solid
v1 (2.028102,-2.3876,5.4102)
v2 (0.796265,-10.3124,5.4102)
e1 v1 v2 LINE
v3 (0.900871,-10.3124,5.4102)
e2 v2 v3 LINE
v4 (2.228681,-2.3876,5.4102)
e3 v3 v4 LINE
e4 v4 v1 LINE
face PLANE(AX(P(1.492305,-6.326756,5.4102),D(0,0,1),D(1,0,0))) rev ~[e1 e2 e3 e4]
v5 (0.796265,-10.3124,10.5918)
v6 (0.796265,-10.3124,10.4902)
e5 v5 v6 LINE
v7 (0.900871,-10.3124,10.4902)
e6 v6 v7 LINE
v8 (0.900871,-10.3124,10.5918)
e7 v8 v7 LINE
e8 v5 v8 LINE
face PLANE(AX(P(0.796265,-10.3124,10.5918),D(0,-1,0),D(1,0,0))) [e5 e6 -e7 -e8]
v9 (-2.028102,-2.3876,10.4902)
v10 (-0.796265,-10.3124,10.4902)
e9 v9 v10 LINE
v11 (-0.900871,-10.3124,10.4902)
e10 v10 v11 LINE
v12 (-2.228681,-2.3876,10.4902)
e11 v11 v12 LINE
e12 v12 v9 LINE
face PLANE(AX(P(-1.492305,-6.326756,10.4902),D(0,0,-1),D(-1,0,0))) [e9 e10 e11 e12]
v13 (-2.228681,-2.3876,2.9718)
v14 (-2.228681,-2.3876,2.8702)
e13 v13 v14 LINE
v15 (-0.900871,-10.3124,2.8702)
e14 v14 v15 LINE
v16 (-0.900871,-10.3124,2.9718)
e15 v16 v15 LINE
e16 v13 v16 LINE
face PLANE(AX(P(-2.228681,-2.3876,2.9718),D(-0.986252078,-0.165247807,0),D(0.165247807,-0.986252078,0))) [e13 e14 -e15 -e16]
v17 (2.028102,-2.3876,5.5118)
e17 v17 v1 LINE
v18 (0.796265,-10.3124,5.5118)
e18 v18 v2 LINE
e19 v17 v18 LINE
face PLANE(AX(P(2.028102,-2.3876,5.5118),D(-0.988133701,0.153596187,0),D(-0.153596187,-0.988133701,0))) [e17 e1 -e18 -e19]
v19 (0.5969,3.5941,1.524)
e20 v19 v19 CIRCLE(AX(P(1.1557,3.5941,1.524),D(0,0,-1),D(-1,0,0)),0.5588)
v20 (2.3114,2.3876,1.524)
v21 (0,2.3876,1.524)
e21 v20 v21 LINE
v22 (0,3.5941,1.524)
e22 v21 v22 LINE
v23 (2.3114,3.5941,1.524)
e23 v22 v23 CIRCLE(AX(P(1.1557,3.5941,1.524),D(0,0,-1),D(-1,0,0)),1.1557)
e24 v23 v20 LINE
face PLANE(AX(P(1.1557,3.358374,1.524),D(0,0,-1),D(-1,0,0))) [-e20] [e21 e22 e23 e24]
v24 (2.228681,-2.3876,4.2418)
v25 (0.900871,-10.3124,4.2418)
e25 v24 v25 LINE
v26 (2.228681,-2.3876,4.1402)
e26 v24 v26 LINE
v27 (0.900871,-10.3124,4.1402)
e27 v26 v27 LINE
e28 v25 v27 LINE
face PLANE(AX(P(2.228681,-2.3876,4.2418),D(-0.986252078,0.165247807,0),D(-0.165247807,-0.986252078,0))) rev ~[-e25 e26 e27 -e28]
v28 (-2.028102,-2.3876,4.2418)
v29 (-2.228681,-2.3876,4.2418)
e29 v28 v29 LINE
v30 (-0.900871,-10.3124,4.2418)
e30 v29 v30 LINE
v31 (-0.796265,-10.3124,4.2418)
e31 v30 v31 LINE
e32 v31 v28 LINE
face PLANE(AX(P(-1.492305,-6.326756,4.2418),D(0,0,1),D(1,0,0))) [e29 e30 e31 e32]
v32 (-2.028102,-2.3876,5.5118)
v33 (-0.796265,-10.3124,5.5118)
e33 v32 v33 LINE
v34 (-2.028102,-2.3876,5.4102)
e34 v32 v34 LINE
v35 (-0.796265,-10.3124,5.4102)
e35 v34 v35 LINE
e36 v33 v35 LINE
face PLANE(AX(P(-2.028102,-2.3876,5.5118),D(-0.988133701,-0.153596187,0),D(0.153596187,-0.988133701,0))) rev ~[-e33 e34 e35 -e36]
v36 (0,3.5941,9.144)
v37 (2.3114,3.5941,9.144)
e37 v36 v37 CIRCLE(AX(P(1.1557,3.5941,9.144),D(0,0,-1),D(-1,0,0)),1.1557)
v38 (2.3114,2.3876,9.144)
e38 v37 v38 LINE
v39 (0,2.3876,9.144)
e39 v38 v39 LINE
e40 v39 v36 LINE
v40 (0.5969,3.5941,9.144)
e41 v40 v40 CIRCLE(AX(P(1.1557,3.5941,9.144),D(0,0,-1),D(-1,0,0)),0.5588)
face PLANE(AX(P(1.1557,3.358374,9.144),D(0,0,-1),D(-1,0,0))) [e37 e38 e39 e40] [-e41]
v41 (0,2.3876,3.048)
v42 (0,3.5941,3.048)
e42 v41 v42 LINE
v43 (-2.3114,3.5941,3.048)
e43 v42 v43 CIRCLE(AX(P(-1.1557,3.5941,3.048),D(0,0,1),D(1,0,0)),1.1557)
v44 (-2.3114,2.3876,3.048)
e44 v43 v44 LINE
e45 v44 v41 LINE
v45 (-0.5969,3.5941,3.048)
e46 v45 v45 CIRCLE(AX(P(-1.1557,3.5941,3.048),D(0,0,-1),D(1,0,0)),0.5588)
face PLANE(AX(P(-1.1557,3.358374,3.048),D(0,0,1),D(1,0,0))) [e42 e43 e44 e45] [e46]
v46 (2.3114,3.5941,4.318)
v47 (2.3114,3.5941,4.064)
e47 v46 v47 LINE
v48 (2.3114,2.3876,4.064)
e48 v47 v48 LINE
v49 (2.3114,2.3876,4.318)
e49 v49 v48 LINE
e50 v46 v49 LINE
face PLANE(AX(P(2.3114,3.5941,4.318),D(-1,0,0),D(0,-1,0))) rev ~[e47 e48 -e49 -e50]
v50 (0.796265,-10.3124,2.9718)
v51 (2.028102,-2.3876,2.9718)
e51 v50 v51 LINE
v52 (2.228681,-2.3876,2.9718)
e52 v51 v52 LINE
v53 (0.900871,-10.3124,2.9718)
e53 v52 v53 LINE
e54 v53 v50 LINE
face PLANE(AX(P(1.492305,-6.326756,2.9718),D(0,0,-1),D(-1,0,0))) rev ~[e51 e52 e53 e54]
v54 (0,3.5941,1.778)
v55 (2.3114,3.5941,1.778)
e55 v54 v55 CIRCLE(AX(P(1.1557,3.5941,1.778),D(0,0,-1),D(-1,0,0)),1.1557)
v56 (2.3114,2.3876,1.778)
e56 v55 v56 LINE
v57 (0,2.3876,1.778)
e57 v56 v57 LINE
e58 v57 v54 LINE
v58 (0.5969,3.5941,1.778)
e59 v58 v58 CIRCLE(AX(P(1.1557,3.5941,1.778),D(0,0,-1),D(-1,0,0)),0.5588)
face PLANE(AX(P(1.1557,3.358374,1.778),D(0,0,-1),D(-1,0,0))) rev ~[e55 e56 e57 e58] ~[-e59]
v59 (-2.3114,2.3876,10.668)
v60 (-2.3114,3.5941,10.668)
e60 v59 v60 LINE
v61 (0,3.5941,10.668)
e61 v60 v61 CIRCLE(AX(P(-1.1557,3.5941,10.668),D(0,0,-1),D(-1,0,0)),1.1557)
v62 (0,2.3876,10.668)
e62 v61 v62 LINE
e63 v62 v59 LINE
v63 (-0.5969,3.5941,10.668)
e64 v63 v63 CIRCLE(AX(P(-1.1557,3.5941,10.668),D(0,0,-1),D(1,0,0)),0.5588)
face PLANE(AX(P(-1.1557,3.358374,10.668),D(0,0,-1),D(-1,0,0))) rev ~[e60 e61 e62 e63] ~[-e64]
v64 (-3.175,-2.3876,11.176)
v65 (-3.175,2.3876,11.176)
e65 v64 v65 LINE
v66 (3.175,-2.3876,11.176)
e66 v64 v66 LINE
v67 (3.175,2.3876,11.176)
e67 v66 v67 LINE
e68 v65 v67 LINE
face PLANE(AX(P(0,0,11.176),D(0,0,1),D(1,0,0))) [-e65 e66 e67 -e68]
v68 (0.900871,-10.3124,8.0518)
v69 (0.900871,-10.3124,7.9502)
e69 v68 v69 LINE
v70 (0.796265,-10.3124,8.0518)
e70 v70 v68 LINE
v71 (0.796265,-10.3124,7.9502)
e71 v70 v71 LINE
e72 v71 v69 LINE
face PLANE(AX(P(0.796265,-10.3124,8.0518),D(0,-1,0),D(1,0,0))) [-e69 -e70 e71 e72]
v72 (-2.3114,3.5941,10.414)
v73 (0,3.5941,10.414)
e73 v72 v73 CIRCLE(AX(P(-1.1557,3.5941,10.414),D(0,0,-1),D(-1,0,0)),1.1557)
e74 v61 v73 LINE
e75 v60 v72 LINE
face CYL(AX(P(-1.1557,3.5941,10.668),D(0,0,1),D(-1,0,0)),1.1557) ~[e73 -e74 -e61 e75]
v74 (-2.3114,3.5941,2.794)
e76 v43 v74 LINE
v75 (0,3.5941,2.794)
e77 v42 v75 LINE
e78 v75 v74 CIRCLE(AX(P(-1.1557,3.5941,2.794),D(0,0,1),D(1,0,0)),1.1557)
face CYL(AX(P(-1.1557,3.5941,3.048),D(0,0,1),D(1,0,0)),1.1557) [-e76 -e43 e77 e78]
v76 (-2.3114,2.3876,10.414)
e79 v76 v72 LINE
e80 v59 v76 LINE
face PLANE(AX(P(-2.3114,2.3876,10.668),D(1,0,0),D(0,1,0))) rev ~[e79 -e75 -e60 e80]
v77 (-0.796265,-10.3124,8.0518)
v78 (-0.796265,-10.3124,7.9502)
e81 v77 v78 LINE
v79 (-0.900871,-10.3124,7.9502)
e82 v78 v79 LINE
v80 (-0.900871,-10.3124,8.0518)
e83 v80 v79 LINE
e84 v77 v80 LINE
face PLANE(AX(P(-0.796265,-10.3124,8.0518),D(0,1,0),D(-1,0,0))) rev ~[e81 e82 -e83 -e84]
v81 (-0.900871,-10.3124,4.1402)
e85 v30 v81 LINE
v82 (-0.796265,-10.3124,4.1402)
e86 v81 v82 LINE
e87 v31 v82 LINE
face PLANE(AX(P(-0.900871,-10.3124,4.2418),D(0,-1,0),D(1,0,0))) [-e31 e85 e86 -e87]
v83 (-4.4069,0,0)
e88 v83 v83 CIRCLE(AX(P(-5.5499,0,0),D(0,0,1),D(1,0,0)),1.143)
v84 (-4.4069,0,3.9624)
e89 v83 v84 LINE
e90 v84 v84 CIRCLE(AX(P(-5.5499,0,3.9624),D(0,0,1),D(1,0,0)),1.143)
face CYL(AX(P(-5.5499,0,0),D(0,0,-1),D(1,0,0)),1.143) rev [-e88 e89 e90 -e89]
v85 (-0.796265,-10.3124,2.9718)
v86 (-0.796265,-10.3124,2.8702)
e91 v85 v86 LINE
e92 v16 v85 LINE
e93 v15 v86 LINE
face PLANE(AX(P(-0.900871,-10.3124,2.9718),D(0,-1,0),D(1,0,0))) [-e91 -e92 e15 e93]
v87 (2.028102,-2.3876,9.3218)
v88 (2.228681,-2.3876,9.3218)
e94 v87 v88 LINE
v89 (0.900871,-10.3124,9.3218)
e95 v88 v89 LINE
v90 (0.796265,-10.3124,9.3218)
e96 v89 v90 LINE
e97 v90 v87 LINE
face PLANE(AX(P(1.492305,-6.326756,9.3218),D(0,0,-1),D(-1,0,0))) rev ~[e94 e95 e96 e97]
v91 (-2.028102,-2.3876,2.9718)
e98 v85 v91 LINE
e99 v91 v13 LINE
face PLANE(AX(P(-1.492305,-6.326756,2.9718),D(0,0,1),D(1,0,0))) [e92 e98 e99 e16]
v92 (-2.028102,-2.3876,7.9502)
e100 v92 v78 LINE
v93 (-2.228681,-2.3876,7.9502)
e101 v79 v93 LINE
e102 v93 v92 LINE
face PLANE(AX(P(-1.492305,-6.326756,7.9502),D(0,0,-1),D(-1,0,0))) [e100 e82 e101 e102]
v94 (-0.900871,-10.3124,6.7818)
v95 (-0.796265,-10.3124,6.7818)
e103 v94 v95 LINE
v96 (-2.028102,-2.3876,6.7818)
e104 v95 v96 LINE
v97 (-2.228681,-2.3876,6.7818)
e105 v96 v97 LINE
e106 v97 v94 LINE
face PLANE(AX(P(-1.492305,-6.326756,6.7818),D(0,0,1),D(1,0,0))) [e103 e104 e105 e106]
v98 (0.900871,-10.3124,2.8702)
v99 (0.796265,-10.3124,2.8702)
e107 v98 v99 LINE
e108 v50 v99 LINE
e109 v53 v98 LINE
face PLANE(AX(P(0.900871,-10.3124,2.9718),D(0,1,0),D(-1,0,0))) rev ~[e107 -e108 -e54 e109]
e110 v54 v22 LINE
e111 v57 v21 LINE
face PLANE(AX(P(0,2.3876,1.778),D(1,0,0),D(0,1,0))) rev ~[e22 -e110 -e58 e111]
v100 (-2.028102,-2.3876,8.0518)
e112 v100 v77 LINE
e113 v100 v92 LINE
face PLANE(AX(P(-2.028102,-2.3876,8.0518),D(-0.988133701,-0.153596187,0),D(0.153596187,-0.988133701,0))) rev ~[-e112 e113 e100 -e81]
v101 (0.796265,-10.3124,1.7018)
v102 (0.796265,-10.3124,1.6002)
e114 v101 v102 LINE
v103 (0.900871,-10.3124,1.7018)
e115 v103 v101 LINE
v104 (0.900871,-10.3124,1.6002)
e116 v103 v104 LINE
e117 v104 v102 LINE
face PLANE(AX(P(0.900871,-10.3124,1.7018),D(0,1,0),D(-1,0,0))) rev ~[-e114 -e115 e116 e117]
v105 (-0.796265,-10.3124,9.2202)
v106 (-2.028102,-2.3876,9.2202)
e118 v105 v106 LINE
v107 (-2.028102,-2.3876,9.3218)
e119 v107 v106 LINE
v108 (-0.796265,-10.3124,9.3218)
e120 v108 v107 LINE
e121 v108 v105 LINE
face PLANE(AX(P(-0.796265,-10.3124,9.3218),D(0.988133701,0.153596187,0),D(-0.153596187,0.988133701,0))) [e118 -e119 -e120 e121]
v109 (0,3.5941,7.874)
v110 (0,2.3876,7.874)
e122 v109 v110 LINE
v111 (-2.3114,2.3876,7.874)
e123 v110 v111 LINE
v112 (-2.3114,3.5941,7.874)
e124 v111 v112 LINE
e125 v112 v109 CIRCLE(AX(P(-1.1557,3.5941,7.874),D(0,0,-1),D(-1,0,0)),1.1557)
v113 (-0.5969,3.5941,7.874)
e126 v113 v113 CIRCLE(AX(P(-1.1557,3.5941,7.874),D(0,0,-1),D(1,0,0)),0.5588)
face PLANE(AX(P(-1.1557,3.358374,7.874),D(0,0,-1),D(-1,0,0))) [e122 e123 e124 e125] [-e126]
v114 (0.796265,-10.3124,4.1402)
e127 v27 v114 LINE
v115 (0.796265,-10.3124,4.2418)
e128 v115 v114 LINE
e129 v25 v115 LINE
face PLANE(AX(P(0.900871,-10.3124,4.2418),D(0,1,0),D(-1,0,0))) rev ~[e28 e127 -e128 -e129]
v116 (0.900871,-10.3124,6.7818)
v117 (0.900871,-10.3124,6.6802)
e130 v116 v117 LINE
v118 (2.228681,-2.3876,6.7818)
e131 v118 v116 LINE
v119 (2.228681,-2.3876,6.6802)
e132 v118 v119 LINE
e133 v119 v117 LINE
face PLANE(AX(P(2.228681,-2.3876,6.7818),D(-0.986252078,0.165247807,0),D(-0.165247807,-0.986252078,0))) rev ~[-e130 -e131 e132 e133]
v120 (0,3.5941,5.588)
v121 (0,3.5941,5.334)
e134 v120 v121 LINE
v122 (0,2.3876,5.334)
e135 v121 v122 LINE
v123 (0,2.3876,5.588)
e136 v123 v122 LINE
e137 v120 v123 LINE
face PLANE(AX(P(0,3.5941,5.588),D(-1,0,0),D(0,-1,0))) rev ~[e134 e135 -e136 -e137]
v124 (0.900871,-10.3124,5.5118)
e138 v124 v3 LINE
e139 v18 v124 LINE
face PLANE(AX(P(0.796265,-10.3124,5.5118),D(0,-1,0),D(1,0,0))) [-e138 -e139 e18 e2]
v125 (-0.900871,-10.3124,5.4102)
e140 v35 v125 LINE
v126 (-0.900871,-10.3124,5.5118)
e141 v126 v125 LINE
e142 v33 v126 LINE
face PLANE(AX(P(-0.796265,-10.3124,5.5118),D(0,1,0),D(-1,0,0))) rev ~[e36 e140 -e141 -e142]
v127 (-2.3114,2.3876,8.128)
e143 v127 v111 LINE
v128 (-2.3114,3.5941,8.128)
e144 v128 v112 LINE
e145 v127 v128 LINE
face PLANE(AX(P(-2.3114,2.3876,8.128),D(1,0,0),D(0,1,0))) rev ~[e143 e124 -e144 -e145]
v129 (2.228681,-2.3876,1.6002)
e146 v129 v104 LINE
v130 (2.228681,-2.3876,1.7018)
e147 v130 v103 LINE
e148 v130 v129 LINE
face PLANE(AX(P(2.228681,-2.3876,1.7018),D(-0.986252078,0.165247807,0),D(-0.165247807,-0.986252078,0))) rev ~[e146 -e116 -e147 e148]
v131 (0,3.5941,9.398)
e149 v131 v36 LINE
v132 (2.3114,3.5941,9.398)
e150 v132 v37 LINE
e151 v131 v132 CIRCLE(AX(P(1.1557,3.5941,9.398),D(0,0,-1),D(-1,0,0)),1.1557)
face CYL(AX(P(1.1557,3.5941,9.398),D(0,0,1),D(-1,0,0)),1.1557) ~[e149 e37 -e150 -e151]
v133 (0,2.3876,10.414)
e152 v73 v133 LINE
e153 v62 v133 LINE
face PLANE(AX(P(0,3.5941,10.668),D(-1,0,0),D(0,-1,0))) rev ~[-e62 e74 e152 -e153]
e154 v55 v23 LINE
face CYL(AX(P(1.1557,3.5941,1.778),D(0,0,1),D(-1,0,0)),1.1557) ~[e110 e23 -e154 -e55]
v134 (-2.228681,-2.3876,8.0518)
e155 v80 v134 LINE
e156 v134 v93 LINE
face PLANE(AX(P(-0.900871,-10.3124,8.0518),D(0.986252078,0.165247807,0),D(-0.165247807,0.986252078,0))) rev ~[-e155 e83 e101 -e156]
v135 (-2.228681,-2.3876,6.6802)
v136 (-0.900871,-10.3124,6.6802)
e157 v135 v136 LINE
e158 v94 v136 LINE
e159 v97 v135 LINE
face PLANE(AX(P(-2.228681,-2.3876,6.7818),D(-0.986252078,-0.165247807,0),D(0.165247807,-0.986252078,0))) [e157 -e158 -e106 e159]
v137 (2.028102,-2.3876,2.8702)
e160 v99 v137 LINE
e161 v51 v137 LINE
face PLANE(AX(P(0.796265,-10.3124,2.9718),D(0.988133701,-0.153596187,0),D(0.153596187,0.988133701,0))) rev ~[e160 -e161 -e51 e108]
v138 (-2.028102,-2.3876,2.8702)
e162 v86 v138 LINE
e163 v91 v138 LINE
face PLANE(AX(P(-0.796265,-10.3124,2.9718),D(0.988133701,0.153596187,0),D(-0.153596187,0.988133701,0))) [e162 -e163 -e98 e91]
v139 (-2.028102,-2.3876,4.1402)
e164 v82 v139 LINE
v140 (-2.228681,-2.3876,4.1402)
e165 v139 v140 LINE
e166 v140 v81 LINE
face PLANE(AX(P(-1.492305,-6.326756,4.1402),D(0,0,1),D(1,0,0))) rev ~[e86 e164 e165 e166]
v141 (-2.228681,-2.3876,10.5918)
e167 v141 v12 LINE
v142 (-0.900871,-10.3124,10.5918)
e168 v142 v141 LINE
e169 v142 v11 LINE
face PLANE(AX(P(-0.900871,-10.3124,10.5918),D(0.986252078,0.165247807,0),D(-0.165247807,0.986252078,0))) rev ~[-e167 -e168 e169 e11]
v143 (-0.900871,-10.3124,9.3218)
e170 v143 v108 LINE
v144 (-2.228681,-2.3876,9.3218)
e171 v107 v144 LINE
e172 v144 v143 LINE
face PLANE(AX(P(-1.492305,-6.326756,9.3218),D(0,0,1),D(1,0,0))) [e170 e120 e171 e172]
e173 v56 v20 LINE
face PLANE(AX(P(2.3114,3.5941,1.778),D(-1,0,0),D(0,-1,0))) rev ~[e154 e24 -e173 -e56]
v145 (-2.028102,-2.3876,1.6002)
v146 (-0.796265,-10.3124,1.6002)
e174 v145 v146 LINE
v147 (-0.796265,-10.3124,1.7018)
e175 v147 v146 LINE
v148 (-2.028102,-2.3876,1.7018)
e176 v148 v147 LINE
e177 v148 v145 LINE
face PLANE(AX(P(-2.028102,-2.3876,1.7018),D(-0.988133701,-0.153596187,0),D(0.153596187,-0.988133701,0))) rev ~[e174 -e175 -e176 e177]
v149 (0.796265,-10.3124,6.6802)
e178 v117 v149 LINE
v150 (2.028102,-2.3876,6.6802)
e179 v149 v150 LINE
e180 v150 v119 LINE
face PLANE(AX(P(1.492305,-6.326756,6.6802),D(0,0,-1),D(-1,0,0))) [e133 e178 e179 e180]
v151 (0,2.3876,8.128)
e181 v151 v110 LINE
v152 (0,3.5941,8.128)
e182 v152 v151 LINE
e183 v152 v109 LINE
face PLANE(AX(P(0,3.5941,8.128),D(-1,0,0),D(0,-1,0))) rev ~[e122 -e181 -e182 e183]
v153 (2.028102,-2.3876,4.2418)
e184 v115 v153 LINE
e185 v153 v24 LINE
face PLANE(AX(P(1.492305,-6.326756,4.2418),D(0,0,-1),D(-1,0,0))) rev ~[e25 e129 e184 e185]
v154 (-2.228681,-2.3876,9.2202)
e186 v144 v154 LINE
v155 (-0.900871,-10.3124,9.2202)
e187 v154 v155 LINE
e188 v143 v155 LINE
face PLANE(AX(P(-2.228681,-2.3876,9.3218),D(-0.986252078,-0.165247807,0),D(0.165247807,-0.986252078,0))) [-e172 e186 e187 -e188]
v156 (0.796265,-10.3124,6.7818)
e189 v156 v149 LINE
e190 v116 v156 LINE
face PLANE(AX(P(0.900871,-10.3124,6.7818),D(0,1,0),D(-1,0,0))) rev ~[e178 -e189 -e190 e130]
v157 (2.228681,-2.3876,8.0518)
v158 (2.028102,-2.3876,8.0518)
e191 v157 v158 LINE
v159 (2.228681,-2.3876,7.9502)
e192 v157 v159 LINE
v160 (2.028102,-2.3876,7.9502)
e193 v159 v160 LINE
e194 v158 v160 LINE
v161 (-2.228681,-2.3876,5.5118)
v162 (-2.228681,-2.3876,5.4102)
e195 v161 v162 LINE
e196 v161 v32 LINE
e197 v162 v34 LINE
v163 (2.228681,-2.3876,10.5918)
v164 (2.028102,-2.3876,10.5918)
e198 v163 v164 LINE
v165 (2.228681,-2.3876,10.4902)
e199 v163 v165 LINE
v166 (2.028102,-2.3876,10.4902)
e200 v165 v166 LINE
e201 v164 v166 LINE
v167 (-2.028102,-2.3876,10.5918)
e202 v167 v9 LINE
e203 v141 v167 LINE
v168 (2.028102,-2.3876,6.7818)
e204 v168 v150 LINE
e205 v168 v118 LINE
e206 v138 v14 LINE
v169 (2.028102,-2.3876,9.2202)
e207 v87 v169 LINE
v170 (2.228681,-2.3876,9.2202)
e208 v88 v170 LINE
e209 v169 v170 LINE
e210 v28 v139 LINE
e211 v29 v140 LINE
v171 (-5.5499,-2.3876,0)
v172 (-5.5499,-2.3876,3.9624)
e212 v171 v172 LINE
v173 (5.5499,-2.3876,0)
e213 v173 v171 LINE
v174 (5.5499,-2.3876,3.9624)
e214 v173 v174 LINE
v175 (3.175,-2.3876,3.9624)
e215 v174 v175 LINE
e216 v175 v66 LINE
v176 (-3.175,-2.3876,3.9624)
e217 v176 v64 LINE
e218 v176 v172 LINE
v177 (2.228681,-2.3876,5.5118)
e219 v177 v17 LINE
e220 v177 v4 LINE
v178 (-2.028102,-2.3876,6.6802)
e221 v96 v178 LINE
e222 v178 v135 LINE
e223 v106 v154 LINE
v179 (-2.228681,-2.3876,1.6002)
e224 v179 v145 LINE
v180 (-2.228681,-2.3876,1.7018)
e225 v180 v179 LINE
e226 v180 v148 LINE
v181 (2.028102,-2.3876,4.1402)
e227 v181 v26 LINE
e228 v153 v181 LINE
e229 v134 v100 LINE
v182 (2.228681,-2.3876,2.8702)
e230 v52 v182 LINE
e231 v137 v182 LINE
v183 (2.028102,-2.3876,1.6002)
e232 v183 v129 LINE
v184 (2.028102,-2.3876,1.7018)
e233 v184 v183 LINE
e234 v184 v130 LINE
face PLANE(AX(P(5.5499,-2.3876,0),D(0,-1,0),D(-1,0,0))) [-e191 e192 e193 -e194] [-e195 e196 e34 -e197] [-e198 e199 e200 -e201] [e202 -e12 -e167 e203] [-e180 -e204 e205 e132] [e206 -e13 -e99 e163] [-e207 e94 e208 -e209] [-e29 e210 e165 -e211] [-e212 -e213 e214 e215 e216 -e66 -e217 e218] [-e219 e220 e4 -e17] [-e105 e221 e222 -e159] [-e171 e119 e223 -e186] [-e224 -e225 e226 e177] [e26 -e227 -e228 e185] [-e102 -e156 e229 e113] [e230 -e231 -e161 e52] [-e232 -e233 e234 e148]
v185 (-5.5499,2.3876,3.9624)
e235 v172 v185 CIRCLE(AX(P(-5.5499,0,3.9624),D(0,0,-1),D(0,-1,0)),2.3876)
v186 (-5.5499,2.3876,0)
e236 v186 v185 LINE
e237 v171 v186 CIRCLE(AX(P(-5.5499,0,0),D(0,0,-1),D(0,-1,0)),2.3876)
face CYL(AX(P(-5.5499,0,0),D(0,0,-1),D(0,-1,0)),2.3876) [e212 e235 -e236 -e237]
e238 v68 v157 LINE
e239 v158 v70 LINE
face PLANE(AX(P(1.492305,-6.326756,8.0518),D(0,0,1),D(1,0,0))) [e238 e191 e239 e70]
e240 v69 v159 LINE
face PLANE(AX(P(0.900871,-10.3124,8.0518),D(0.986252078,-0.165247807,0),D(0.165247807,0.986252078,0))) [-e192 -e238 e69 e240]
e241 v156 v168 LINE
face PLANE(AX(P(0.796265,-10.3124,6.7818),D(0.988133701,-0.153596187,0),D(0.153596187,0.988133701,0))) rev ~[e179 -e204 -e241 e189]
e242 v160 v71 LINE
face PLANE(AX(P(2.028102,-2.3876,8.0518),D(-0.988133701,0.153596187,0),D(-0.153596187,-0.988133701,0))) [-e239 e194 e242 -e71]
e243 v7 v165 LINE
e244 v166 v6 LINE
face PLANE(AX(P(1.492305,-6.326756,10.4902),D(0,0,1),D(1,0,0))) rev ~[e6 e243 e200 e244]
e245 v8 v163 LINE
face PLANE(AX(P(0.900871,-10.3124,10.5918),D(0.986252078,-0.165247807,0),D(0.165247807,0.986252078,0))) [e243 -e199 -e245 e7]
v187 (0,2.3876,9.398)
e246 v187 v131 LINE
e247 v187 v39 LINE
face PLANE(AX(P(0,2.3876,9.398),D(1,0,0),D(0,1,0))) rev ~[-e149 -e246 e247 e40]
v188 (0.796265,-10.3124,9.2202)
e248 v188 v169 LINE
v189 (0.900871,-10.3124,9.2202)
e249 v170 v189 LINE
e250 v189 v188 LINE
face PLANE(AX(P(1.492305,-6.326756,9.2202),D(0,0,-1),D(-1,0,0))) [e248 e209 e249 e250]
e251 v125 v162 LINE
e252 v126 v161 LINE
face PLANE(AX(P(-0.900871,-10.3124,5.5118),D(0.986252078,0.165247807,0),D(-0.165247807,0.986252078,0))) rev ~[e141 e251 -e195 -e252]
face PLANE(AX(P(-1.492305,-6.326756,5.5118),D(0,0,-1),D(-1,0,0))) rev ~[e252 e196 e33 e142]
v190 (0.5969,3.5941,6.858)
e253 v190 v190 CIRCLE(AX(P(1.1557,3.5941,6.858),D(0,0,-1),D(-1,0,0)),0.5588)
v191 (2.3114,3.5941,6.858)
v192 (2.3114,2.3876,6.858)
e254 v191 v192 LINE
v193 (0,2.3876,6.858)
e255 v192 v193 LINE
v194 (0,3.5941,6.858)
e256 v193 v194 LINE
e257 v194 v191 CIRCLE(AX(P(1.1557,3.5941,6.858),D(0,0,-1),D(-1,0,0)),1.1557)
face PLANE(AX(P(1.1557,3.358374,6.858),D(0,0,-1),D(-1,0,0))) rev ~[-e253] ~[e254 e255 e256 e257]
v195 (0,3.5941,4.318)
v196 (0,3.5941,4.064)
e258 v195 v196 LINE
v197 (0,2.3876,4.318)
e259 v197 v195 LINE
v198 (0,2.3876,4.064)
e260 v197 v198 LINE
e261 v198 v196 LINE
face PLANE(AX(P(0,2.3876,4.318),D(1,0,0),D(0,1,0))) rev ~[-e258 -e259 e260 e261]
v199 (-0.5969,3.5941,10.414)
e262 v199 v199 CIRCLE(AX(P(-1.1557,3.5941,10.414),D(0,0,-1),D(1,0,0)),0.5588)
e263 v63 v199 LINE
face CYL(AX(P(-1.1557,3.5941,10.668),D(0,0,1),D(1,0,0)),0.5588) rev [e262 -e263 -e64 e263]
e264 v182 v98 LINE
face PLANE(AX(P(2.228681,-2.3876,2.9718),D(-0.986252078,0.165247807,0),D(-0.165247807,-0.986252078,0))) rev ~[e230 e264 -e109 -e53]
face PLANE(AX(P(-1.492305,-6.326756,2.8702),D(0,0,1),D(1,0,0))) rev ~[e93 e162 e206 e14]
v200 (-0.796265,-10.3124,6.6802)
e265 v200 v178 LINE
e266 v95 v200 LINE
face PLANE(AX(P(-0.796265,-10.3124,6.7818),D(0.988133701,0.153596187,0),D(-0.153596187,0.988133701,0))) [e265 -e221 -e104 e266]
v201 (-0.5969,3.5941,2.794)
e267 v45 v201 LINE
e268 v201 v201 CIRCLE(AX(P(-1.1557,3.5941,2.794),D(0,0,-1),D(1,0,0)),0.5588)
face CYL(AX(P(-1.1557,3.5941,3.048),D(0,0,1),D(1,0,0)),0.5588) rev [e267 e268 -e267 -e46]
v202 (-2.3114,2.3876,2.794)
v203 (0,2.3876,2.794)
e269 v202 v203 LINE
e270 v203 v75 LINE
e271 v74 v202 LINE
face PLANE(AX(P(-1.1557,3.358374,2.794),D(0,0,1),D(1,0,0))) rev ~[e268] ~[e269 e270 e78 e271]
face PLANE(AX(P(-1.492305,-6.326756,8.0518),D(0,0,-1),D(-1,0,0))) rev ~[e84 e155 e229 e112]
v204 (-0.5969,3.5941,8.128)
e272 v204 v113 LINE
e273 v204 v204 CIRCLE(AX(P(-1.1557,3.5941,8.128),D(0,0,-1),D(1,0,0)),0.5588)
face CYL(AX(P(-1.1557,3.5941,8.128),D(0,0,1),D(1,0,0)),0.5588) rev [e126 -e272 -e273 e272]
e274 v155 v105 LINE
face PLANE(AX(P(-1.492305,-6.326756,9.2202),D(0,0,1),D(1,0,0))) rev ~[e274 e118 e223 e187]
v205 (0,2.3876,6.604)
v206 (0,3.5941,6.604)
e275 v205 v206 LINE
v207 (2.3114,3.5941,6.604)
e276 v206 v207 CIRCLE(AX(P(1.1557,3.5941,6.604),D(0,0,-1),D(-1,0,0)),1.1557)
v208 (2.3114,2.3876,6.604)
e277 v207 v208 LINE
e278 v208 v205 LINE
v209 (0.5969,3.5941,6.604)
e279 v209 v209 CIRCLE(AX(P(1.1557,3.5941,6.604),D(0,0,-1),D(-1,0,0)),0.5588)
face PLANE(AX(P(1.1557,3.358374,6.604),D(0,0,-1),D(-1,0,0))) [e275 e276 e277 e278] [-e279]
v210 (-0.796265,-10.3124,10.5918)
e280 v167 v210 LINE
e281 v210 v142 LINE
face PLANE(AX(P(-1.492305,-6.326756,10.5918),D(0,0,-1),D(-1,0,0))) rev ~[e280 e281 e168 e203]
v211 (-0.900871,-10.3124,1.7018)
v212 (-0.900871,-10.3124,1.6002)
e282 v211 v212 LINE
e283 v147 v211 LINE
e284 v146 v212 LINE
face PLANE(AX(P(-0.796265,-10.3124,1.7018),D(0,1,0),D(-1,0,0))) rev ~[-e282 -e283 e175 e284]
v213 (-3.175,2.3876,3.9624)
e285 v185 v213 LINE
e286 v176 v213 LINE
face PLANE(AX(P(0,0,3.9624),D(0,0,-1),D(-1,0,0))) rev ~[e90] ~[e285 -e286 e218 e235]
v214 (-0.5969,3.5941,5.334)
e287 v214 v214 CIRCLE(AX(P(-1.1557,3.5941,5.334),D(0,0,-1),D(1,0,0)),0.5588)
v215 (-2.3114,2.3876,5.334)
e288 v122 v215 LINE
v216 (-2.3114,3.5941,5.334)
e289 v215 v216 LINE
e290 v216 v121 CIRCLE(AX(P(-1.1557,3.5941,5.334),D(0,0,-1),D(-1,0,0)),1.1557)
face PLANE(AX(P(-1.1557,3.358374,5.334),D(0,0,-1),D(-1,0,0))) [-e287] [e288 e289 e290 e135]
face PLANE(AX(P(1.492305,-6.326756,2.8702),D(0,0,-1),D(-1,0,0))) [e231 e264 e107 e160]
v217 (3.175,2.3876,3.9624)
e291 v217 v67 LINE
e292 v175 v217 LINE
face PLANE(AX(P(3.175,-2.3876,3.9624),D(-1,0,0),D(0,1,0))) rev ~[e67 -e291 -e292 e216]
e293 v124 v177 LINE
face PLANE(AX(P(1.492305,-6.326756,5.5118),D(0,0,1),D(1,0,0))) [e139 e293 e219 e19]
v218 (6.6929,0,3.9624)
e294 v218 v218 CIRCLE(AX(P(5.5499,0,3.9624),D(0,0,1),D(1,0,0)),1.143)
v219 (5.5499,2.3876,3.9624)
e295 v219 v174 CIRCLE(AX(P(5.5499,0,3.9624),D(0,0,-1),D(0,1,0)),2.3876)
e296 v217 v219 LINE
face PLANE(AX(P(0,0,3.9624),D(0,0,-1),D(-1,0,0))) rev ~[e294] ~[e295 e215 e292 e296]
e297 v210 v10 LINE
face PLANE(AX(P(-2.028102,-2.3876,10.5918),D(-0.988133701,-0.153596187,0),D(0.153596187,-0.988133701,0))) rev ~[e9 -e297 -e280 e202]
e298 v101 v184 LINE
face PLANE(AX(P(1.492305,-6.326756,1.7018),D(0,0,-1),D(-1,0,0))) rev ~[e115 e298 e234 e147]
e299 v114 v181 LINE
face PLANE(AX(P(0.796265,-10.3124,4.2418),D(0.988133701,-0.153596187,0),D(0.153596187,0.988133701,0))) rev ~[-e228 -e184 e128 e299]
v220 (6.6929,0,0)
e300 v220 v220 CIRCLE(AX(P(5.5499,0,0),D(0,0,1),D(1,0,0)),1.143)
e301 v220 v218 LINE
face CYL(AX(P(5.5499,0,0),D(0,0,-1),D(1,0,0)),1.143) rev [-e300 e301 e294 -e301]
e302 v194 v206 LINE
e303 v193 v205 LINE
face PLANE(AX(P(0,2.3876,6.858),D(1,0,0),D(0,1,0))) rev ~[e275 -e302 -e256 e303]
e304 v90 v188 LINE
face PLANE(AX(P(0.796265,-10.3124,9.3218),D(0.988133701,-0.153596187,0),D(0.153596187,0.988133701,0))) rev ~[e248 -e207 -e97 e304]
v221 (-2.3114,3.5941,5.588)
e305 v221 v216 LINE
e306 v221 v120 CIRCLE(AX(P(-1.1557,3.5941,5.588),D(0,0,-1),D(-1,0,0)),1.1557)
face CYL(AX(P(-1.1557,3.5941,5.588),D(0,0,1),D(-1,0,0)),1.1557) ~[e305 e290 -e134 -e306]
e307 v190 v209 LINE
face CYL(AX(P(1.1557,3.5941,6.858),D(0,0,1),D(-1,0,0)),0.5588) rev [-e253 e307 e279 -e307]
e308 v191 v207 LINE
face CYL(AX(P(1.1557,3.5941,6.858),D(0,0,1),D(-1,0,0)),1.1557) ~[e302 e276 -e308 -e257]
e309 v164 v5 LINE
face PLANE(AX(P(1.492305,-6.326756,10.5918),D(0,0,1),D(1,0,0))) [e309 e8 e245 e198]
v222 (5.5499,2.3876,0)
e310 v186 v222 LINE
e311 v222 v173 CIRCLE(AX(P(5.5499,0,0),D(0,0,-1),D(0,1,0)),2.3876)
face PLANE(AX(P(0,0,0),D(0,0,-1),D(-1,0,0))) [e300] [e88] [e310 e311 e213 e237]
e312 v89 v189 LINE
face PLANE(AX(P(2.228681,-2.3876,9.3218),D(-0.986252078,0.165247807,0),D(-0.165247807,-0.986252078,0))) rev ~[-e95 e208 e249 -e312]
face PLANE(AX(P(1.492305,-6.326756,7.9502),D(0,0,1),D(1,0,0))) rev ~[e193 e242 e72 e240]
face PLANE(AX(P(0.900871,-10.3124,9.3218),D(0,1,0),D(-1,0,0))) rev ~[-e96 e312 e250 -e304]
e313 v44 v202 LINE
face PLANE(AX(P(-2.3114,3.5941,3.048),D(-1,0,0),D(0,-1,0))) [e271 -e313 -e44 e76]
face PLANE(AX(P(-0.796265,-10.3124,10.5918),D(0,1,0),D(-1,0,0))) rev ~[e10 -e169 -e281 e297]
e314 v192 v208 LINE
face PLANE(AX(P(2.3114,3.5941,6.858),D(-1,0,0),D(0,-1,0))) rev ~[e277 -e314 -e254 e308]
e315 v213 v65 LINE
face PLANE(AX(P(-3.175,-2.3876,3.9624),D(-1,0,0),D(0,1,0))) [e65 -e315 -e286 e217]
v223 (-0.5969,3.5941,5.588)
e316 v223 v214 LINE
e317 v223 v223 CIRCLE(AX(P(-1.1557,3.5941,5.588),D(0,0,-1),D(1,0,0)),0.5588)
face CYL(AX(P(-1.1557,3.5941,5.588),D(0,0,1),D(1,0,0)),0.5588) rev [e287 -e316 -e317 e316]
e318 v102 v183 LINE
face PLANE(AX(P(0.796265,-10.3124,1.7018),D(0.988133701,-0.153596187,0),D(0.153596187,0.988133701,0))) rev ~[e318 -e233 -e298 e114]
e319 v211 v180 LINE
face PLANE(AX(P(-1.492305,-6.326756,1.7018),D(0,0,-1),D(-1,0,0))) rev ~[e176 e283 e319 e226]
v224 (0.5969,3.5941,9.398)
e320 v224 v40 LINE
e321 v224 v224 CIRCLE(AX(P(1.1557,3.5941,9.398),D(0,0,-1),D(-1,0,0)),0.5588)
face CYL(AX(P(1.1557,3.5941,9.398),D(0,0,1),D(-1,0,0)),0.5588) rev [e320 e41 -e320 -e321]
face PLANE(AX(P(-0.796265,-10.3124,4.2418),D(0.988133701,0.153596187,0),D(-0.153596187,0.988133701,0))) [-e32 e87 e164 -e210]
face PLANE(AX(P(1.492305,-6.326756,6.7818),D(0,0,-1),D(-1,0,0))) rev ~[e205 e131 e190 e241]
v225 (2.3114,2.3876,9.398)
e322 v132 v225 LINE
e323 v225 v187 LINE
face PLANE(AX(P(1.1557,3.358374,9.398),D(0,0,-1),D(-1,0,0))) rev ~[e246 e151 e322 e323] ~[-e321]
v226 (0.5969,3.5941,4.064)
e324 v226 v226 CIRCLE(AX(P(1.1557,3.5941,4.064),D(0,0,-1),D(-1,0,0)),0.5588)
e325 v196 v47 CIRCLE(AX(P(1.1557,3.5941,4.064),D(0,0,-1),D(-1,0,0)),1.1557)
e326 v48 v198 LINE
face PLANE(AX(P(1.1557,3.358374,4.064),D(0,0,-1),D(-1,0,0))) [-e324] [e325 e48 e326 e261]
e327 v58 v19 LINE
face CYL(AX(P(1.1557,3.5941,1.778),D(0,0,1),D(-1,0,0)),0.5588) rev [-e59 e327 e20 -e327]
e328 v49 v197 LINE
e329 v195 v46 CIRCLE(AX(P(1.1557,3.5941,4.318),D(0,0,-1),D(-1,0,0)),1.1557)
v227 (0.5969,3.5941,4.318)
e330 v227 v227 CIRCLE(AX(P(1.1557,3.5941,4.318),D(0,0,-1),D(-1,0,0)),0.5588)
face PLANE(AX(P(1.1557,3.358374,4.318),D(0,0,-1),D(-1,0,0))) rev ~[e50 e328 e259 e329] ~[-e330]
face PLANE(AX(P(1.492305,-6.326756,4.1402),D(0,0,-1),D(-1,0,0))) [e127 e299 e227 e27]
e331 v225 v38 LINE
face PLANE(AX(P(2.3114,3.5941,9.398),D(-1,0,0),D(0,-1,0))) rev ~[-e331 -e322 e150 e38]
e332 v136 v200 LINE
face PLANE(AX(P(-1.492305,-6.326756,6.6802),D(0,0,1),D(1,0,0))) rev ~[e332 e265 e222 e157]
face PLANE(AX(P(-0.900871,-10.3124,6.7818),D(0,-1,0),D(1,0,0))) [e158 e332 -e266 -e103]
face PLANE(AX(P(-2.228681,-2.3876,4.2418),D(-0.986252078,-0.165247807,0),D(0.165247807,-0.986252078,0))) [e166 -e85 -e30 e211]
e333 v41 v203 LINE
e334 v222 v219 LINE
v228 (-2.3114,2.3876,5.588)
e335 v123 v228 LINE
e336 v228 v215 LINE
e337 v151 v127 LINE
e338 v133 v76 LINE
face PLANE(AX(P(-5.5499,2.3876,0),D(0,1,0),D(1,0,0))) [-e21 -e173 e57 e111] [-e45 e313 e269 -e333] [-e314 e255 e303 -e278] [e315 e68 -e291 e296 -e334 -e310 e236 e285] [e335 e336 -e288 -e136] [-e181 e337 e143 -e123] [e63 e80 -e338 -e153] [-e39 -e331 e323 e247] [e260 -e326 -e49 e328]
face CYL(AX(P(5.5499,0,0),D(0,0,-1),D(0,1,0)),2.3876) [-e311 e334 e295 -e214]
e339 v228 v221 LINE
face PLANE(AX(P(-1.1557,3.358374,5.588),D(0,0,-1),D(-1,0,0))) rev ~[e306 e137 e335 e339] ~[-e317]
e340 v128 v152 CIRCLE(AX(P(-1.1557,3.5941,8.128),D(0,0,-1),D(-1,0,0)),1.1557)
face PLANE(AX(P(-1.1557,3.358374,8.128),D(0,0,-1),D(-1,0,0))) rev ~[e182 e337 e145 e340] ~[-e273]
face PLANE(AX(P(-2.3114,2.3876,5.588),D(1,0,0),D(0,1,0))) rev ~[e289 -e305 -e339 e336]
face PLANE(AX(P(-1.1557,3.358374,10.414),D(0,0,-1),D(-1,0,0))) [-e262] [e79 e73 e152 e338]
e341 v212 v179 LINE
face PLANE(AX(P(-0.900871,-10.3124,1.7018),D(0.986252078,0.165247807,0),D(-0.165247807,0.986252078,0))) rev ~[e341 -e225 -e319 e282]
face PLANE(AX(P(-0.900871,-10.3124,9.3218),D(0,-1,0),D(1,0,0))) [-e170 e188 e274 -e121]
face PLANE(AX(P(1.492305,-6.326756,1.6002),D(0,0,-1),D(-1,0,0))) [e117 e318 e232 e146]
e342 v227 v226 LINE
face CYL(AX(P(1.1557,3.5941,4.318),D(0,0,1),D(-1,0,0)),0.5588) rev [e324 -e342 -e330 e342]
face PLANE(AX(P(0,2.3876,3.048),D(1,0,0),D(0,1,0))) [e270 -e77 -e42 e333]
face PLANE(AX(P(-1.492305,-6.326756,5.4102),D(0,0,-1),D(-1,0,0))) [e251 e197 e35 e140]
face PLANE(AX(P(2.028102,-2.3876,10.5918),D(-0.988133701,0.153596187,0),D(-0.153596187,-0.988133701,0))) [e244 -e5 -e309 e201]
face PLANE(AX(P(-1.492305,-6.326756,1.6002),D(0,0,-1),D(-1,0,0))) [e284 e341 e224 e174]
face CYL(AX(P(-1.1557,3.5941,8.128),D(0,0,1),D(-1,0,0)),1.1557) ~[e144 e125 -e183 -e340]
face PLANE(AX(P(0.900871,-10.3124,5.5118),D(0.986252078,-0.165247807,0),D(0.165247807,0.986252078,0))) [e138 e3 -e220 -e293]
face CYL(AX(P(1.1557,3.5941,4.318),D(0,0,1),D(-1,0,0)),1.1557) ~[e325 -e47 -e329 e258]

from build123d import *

# Parameters (mm, degrees)
SKETCH1_R                 = 1.143
BOSS_EXTRUDE1_DEPTH       = 3.9624
SKETCH2_W                 = 6.35
SKETCH2_H                 = 4.7752
BOSS_EXTRUDE2_DEPTH       = 7.2136
BOSS_EXTRUDE3_DEPTH       = 0.127
BOSS_EXTRUDE3_DEPTH_BACK  = 0.127
SKETCH3_R                 = 0.5588
BOSS_EXTRUDE4_DEPTH       = 0.127
BOSS_EXTRUDE4_DEPTH_BACK  = 0.127
SKETCH4_R                 = 0.5588
BOSS_EXTRUDE5_DEPTH       = 0.127
BOSS_EXTRUDE5_DEPTH_BACK  = 0.127
SKETCH5_R                 = 0.5588
BOSS_EXTRUDE6_DEPTH       = 0.127
BOSS_EXTRUDE6_DEPTH_BACK  = 0.127
SKETCH7_R                 = 0.5588
BOSS_EXTRUDE7_DEPTH       = 0.127
BOSS_EXTRUDE7_DEPTH_BACK  = 0.127
SKETCH6_R                 = 0.5588
BOSS_EXTRUDE8_DEPTH       = 0.0508
BOSS_EXTRUDE8_DEPTH_BACK  = 0.0508
BOSS_EXTRUDE11_DEPTH      = 0.0508
BOSS_EXTRUDE11_DEPTH_BACK = 0.0508
BOSS_EXTRUDE12_DEPTH      = 0.0508
BOSS_EXTRUDE12_DEPTH_BACK = 0.0508
BOSS_EXTRUDE13_DEPTH      = 0.0508
BOSS_EXTRUDE13_DEPTH_BACK = 0.0508
BOSS_EXTRUDE14_DEPTH      = 0.0508
BOSS_EXTRUDE14_DEPTH_BACK = 0.0508
BOSS_EXTRUDE15_DEPTH      = 0.0508
BOSS_EXTRUDE15_DEPTH_BACK = 0.0508
BOSS_EXTRUDE16_DEPTH      = 0.0508
BOSS_EXTRUDE16_DEPTH_BACK = 0.0508
BOSS_EXTRUDE17_DEPTH      = 0.0508
BOSS_EXTRUDE17_DEPTH_BACK = 0.0508
BOSS_EXTRUDE18_DEPTH      = 0.127
BOSS_EXTRUDE18_DEPTH_BACK = 0.127
SKETCH16_R                = 0.5588
BOSS_EXTRUDE19_DEPTH      = 0.127
BOSS_EXTRUDE19_DEPTH_BACK = 0.127
SKETCH18_R                = 0.5588
BOSS_EXTRUDE20_DEPTH      = 0.127
BOSS_EXTRUDE20_DEPTH_BACK = 0.127
SKETCH17_R                = 0.5588


with BuildPart() as part:
    # Sketch1 → Boss-Extrude1 (new body)
    with BuildSketch(Plane.XY):
        with BuildLine():
            Line((-5.5499, 2.3876), (5.5499, 2.3876))
            ThreePointArc((5.5499, 2.3876), (7.9375, 0), (5.5499, -2.3876))
            Line((5.5499, -2.3876), (-5.5499, -2.3876))
            ThreePointArc((-5.5499, -2.3876), (-7.9375, 0), (-5.5499, 2.3876))
        make_face()
        with Locations((-5.5499, 0)):
            Circle(SKETCH1_R, mode=Mode.SUBTRACT)
        with Locations((5.5499, 0)):
            Circle(SKETCH1_R, mode=Mode.SUBTRACT)
    extrude(amount=BOSS_EXTRUDE1_DEPTH)

    # Sketch2 → Boss-Extrude2 (add)
    with BuildSketch(Plane.XY.offset(3.9624)):
        Rectangle(SKETCH2_W, SKETCH2_H)
    extrude(amount=BOSS_EXTRUDE2_DEPTH)

    # Sketch3 → Boss-Extrude3 (add, two sides: drawn at the far end of the back side and taken through both)
    with BuildSketch(Plane(origin=(0, 0, 1.651), x_dir=(-1, 0, 0), z_dir=(0, 0, -1)).offset(-BOSS_EXTRUDE3_DEPTH_BACK)):
        with BuildLine():
            Line((-2.3114, 3.5941), (-2.3114, 2.3876))
            Line((-2.3114, 2.3876), (0, 2.3876))
            Line((0, 2.3876), (0, 3.5941))
            ThreePointArc((0, 3.5941), (-1.1557, 4.7498), (-2.3114, 3.5941))
        make_face()
        with Locations((-1.1557, 3.5941)):
            Circle(SKETCH3_R, mode=Mode.SUBTRACT)
    extrude(amount=BOSS_EXTRUDE3_DEPTH + BOSS_EXTRUDE3_DEPTH_BACK)

    # Sketch4 → Boss-Extrude4 (add, two sides: drawn at the far end of the back side and taken through both)
    with BuildSketch(Plane(origin=(0, 0, 2.921), x_dir=(-1, 0, 0), z_dir=(0, 0, -1)).offset(-BOSS_EXTRUDE4_DEPTH_BACK)):
        with BuildLine():
            Line((2.3114, 3.5941), (2.3114, 2.3876))
            Line((2.3114, 2.3876), (0, 2.3876))
            Line((0, 2.3876), (0, 3.5941))
            ThreePointArc((0, 3.5941), (1.1557, 4.7498), (2.3114, 3.5941))
        make_face()
        with Locations((1.1557, 3.5941)):
            Circle(SKETCH4_R, mode=Mode.SUBTRACT)
    extrude(amount=BOSS_EXTRUDE4_DEPTH + BOSS_EXTRUDE4_DEPTH_BACK)

    # Sketch5 → Boss-Extrude5 (add, two sides: drawn at the far end of the back side and taken through both)
    with BuildSketch(Plane(origin=(0, 0, 4.191), x_dir=(-1, 0, 0), z_dir=(0, 0, -1)).offset(-BOSS_EXTRUDE5_DEPTH_BACK)):
        with BuildLine():
            Line((-2.3114, 3.5941), (-2.3114, 2.3876))
            Line((-2.3114, 2.3876), (0, 2.3876))
            Line((0, 2.3876), (0, 3.5941))
            ThreePointArc((0, 3.5941), (-1.1557, 4.7498), (-2.3114, 3.5941))
        make_face()
        with Locations((-1.1557, 3.5941)):
            Circle(SKETCH5_R, mode=Mode.SUBTRACT)
    extrude(amount=BOSS_EXTRUDE5_DEPTH + BOSS_EXTRUDE5_DEPTH_BACK)

    # Sketch7 → Boss-Extrude6 (add, two sides: drawn at the far end of the back side and taken through both)
    with BuildSketch(Plane(origin=(0, 0, 5.461), x_dir=(-1, 0, 0), z_dir=(0, 0, -1)).offset(-BOSS_EXTRUDE6_DEPTH_BACK)):
        with BuildLine():
            Line((2.3114, 2.3876), (2.3114, 3.5941))
            ThreePointArc((2.3114, 3.5941), (1.1557, 4.7498), (0, 3.5941))
            Line((0, 3.5941), (0, 2.3876))
            Line((0, 2.3876), (2.3114, 2.3876))
        make_face()
        with Locations((1.1557, 3.5941)):
            Circle(SKETCH7_R, mode=Mode.SUBTRACT)
    extrude(amount=BOSS_EXTRUDE6_DEPTH + BOSS_EXTRUDE6_DEPTH_BACK)

    # Sketch6 → Boss-Extrude7 (add, two sides: drawn at the far end of the back side and taken through both)
    with BuildSketch(Plane(origin=(0, 0, 6.731), x_dir=(-1, 0, 0), z_dir=(0, 0, -1)).offset(-BOSS_EXTRUDE7_DEPTH_BACK)):
        with BuildLine():
            Line((-2.3114, 3.5941), (-2.3114, 2.3876))
            Line((-2.3114, 2.3876), (0, 2.3876))
            Line((0, 2.3876), (0, 3.5941))
            ThreePointArc((0, 3.5941), (-1.1557, 4.7498), (-2.3114, 3.5941))
        make_face()
        with Locations((-1.1557, 3.5941)):
            Circle(SKETCH6_R, mode=Mode.SUBTRACT)
    extrude(amount=BOSS_EXTRUDE7_DEPTH + BOSS_EXTRUDE7_DEPTH_BACK)

    # Sketch8 → Boss-Extrude8 (add, two sides: drawn at the far end of the back side and taken through both)
    with BuildSketch(Plane(origin=(0, 0, 1.651), x_dir=(-1, 0, 0), z_dir=(0, 0, -1)).offset(-BOSS_EXTRUDE8_DEPTH_BACK)):
        Polygon((2.228681211, -2.3876), (2.028101851, -2.3876), (0.796265448, -10.3124), (0.900870757, -10.3124), align=None)
        Polygon((-0.900870757, -10.3124), (-0.796265448, -10.3124), (-2.028101851, -2.3876), (-2.228681211, -2.3876), align=None)
    extrude(amount=BOSS_EXTRUDE8_DEPTH + BOSS_EXTRUDE8_DEPTH_BACK)

    # Sketch11 → Boss-Extrude11 (add, two sides: drawn at the far end of the back side and taken through both)
    with BuildSketch(Plane(origin=(0, 0, 4.191), x_dir=(-1, 0, 0), z_dir=(0, 0, -1)).offset(-BOSS_EXTRUDE11_DEPTH_BACK)):
        Polygon((2.228681211, -2.3876), (0.900870757, -10.3124), (0.796265448, -10.3124), (2.028101851, -2.3876), align=None)
        Polygon((-0.900870757, -10.3124), (-0.796265448, -10.3124), (-2.028101851, -2.3876), (-2.228681211, -2.3876), align=None)
    extrude(amount=BOSS_EXTRUDE11_DEPTH + BOSS_EXTRUDE11_DEPTH_BACK)

    # Sketch12 → Boss-Extrude12 (add, two sides: drawn at the far end of the back side and taken through both)
    with BuildSketch(Plane(origin=(0, 0, 6.731), x_dir=(-1, 0, 0), z_dir=(0, 0, -1)).offset(-BOSS_EXTRUDE12_DEPTH_BACK)):
        Polygon((2.228681211, -2.3876), (0.900870757, -10.3124), (0.796265448, -10.3124), (2.028101851, -2.3876), align=None)
        Polygon((-0.900870757, -10.3124), (-0.796265448, -10.3124), (-2.028101851, -2.3876), (-2.228681211, -2.3876), align=None)
    extrude(amount=BOSS_EXTRUDE12_DEPTH + BOSS_EXTRUDE12_DEPTH_BACK)

    # Sketch13 → Boss-Extrude13 (add, two sides: drawn at the far end of the back side and taken through both)
    with BuildSketch(Plane(origin=(0, 0, 2.921), x_dir=(-1, 0, 0), z_dir=(0, 0, -1)).offset(-BOSS_EXTRUDE13_DEPTH_BACK)):
        Polygon((0.900870757, -10.3124), (0.796265448, -10.3124), (2.028101851, -2.3876), (2.228681211, -2.3876), align=None)
        Polygon((-0.900870757, -10.3124), (-0.796265448, -10.3124), (-2.028101851, -2.3876), (-2.228681211, -2.3876), align=None)
    extrude(amount=BOSS_EXTRUDE13_DEPTH + BOSS_EXTRUDE13_DEPTH_BACK)

    # Sketch15 → Boss-Extrude14 (add, two sides: drawn at the far end of the back side and taken through both)
    with BuildSketch(Plane(origin=(0, 0, 5.461), x_dir=(-1, 0, 0), z_dir=(0, 0, -1)).offset(-BOSS_EXTRUDE14_DEPTH_BACK)):
        Polygon((-0.900870757, -10.3124), (-2.228681211, -2.3876), (-2.028101851, -2.3876), (-0.796265448, -10.3124), align=None)
        Polygon((0.796265448, -10.3124), (0.900870757, -10.3124), (2.228681211, -2.3876), (2.028101851, -2.3876), align=None)
    extrude(amount=BOSS_EXTRUDE14_DEPTH + BOSS_EXTRUDE14_DEPTH_BACK)

    # Sketch21 → Boss-Extrude15 (add, two sides: drawn at the far end of the back side and taken through both)
    with BuildSketch(Plane(origin=(0, 0, 10.541), x_dir=(-1, 0, 0), z_dir=(0, 0, -1)).offset(-BOSS_EXTRUDE15_DEPTH_BACK)):
        Polygon((-2.028101851, -2.3876), (-0.796265448, -10.3124), (-0.900870757, -10.3124), (-2.228681211, -2.3876), align=None)
        Polygon((0.796265448, -10.3124), (0.900870757, -10.3124), (2.228681211, -2.3876), (2.028101851, -2.3876), align=None)
    extrude(amount=BOSS_EXTRUDE15_DEPTH + BOSS_EXTRUDE15_DEPTH_BACK)

    # Sketch20 → Boss-Extrude16 (add, two sides: drawn at the far end of the back side and taken through both)
    with BuildSketch(Plane(origin=(0, 0, 9.271), x_dir=(-1, 0, 0), z_dir=(0, 0, -1)).offset(-BOSS_EXTRUDE16_DEPTH_BACK)):
        Polygon((2.228681211, -2.3876), (0.900870757, -10.3124), (0.796265448, -10.3124), (2.028101851, -2.3876), align=None)
        Polygon((-0.900870757, -10.3124), (-0.796265448, -10.3124), (-2.028101851, -2.3876), (-2.228681211, -2.3876), align=None)
    extrude(amount=BOSS_EXTRUDE16_DEPTH + BOSS_EXTRUDE16_DEPTH_BACK)

    # Sketch19 → Boss-Extrude17 (add, two sides: drawn at the far end of the back side and taken through both)
    with BuildSketch(Plane(origin=(0, 0, 8.001), x_dir=(-1, 0, 0), z_dir=(0, 0, -1)).offset(-BOSS_EXTRUDE17_DEPTH_BACK)):
        Polygon((-2.028101851, -2.3876), (-0.796265448, -10.3124), (-0.900870757, -10.3124), (-2.228681211, -2.3876), align=None)
        Polygon((0.796265448, -10.3124), (0.900870757, -10.3124), (2.228681211, -2.3876), (2.028101851, -2.3876), align=None)
    extrude(amount=BOSS_EXTRUDE17_DEPTH + BOSS_EXTRUDE17_DEPTH_BACK)

    # Sketch16 → Boss-Extrude18 (add, two sides: drawn at the far end of the back side and taken through both)
    with BuildSketch(Plane(origin=(0, 0, 8.001), x_dir=(-1, 0, 0), z_dir=(0, 0, -1)).offset(-BOSS_EXTRUDE18_DEPTH_BACK)):
        with BuildLine():
            Line((2.3114, 2.3876), (2.3114, 3.5941))
            ThreePointArc((2.3114, 3.5941), (1.1557, 4.7498), (0, 3.5941))
            Line((0, 3.5941), (0, 2.3876))
            Line((0, 2.3876), (2.3114, 2.3876))
        make_face()
        with Locations((1.1557, 3.5941)):
            Circle(SKETCH16_R, mode=Mode.SUBTRACT)
    extrude(amount=BOSS_EXTRUDE18_DEPTH + BOSS_EXTRUDE18_DEPTH_BACK)

    # Sketch18 → Boss-Extrude19 (add, two sides: drawn at the far end of the back side and taken through both)
    with BuildSketch(Plane(origin=(0, 0, 10.541), x_dir=(-1, 0, 0), z_dir=(0, 0, -1)).offset(-BOSS_EXTRUDE19_DEPTH_BACK)):
        with BuildLine():
            Line((2.3114, 2.3876), (2.3114, 3.5941))
            ThreePointArc((2.3114, 3.5941), (1.1557, 4.7498), (0, 3.5941))
            Line((0, 3.5941), (0, 2.3876))
            Line((0, 2.3876), (2.3114, 2.3876))
        make_face()
        with Locations((1.1557, 3.5941)):
            Circle(SKETCH18_R, mode=Mode.SUBTRACT)
    extrude(amount=BOSS_EXTRUDE19_DEPTH + BOSS_EXTRUDE19_DEPTH_BACK)

    # Sketch17 → Boss-Extrude20 (add, two sides: drawn at the far end of the back side and taken through both)
    with BuildSketch(Plane(origin=(0, 0, 9.271), x_dir=(-1, 0, 0), z_dir=(0, 0, -1)).offset(-BOSS_EXTRUDE20_DEPTH_BACK)):
        with BuildLine():
            Line((-2.3114, 3.5941), (-2.3114, 2.3876))
            Line((-2.3114, 2.3876), (0, 2.3876))
            Line((0, 2.3876), (0, 3.5941))
            ThreePointArc((0, 3.5941), (-1.1557, 4.7498), (-2.3114, 3.5941))
        make_face()
        with Locations((-1.1557, 3.5941)):
            Circle(SKETCH17_R, mode=Mode.SUBTRACT)
    extrude(amount=BOSS_EXTRUDE20_DEPTH + BOSS_EXTRUDE20_DEPTH_BACK)


solid = part.part
